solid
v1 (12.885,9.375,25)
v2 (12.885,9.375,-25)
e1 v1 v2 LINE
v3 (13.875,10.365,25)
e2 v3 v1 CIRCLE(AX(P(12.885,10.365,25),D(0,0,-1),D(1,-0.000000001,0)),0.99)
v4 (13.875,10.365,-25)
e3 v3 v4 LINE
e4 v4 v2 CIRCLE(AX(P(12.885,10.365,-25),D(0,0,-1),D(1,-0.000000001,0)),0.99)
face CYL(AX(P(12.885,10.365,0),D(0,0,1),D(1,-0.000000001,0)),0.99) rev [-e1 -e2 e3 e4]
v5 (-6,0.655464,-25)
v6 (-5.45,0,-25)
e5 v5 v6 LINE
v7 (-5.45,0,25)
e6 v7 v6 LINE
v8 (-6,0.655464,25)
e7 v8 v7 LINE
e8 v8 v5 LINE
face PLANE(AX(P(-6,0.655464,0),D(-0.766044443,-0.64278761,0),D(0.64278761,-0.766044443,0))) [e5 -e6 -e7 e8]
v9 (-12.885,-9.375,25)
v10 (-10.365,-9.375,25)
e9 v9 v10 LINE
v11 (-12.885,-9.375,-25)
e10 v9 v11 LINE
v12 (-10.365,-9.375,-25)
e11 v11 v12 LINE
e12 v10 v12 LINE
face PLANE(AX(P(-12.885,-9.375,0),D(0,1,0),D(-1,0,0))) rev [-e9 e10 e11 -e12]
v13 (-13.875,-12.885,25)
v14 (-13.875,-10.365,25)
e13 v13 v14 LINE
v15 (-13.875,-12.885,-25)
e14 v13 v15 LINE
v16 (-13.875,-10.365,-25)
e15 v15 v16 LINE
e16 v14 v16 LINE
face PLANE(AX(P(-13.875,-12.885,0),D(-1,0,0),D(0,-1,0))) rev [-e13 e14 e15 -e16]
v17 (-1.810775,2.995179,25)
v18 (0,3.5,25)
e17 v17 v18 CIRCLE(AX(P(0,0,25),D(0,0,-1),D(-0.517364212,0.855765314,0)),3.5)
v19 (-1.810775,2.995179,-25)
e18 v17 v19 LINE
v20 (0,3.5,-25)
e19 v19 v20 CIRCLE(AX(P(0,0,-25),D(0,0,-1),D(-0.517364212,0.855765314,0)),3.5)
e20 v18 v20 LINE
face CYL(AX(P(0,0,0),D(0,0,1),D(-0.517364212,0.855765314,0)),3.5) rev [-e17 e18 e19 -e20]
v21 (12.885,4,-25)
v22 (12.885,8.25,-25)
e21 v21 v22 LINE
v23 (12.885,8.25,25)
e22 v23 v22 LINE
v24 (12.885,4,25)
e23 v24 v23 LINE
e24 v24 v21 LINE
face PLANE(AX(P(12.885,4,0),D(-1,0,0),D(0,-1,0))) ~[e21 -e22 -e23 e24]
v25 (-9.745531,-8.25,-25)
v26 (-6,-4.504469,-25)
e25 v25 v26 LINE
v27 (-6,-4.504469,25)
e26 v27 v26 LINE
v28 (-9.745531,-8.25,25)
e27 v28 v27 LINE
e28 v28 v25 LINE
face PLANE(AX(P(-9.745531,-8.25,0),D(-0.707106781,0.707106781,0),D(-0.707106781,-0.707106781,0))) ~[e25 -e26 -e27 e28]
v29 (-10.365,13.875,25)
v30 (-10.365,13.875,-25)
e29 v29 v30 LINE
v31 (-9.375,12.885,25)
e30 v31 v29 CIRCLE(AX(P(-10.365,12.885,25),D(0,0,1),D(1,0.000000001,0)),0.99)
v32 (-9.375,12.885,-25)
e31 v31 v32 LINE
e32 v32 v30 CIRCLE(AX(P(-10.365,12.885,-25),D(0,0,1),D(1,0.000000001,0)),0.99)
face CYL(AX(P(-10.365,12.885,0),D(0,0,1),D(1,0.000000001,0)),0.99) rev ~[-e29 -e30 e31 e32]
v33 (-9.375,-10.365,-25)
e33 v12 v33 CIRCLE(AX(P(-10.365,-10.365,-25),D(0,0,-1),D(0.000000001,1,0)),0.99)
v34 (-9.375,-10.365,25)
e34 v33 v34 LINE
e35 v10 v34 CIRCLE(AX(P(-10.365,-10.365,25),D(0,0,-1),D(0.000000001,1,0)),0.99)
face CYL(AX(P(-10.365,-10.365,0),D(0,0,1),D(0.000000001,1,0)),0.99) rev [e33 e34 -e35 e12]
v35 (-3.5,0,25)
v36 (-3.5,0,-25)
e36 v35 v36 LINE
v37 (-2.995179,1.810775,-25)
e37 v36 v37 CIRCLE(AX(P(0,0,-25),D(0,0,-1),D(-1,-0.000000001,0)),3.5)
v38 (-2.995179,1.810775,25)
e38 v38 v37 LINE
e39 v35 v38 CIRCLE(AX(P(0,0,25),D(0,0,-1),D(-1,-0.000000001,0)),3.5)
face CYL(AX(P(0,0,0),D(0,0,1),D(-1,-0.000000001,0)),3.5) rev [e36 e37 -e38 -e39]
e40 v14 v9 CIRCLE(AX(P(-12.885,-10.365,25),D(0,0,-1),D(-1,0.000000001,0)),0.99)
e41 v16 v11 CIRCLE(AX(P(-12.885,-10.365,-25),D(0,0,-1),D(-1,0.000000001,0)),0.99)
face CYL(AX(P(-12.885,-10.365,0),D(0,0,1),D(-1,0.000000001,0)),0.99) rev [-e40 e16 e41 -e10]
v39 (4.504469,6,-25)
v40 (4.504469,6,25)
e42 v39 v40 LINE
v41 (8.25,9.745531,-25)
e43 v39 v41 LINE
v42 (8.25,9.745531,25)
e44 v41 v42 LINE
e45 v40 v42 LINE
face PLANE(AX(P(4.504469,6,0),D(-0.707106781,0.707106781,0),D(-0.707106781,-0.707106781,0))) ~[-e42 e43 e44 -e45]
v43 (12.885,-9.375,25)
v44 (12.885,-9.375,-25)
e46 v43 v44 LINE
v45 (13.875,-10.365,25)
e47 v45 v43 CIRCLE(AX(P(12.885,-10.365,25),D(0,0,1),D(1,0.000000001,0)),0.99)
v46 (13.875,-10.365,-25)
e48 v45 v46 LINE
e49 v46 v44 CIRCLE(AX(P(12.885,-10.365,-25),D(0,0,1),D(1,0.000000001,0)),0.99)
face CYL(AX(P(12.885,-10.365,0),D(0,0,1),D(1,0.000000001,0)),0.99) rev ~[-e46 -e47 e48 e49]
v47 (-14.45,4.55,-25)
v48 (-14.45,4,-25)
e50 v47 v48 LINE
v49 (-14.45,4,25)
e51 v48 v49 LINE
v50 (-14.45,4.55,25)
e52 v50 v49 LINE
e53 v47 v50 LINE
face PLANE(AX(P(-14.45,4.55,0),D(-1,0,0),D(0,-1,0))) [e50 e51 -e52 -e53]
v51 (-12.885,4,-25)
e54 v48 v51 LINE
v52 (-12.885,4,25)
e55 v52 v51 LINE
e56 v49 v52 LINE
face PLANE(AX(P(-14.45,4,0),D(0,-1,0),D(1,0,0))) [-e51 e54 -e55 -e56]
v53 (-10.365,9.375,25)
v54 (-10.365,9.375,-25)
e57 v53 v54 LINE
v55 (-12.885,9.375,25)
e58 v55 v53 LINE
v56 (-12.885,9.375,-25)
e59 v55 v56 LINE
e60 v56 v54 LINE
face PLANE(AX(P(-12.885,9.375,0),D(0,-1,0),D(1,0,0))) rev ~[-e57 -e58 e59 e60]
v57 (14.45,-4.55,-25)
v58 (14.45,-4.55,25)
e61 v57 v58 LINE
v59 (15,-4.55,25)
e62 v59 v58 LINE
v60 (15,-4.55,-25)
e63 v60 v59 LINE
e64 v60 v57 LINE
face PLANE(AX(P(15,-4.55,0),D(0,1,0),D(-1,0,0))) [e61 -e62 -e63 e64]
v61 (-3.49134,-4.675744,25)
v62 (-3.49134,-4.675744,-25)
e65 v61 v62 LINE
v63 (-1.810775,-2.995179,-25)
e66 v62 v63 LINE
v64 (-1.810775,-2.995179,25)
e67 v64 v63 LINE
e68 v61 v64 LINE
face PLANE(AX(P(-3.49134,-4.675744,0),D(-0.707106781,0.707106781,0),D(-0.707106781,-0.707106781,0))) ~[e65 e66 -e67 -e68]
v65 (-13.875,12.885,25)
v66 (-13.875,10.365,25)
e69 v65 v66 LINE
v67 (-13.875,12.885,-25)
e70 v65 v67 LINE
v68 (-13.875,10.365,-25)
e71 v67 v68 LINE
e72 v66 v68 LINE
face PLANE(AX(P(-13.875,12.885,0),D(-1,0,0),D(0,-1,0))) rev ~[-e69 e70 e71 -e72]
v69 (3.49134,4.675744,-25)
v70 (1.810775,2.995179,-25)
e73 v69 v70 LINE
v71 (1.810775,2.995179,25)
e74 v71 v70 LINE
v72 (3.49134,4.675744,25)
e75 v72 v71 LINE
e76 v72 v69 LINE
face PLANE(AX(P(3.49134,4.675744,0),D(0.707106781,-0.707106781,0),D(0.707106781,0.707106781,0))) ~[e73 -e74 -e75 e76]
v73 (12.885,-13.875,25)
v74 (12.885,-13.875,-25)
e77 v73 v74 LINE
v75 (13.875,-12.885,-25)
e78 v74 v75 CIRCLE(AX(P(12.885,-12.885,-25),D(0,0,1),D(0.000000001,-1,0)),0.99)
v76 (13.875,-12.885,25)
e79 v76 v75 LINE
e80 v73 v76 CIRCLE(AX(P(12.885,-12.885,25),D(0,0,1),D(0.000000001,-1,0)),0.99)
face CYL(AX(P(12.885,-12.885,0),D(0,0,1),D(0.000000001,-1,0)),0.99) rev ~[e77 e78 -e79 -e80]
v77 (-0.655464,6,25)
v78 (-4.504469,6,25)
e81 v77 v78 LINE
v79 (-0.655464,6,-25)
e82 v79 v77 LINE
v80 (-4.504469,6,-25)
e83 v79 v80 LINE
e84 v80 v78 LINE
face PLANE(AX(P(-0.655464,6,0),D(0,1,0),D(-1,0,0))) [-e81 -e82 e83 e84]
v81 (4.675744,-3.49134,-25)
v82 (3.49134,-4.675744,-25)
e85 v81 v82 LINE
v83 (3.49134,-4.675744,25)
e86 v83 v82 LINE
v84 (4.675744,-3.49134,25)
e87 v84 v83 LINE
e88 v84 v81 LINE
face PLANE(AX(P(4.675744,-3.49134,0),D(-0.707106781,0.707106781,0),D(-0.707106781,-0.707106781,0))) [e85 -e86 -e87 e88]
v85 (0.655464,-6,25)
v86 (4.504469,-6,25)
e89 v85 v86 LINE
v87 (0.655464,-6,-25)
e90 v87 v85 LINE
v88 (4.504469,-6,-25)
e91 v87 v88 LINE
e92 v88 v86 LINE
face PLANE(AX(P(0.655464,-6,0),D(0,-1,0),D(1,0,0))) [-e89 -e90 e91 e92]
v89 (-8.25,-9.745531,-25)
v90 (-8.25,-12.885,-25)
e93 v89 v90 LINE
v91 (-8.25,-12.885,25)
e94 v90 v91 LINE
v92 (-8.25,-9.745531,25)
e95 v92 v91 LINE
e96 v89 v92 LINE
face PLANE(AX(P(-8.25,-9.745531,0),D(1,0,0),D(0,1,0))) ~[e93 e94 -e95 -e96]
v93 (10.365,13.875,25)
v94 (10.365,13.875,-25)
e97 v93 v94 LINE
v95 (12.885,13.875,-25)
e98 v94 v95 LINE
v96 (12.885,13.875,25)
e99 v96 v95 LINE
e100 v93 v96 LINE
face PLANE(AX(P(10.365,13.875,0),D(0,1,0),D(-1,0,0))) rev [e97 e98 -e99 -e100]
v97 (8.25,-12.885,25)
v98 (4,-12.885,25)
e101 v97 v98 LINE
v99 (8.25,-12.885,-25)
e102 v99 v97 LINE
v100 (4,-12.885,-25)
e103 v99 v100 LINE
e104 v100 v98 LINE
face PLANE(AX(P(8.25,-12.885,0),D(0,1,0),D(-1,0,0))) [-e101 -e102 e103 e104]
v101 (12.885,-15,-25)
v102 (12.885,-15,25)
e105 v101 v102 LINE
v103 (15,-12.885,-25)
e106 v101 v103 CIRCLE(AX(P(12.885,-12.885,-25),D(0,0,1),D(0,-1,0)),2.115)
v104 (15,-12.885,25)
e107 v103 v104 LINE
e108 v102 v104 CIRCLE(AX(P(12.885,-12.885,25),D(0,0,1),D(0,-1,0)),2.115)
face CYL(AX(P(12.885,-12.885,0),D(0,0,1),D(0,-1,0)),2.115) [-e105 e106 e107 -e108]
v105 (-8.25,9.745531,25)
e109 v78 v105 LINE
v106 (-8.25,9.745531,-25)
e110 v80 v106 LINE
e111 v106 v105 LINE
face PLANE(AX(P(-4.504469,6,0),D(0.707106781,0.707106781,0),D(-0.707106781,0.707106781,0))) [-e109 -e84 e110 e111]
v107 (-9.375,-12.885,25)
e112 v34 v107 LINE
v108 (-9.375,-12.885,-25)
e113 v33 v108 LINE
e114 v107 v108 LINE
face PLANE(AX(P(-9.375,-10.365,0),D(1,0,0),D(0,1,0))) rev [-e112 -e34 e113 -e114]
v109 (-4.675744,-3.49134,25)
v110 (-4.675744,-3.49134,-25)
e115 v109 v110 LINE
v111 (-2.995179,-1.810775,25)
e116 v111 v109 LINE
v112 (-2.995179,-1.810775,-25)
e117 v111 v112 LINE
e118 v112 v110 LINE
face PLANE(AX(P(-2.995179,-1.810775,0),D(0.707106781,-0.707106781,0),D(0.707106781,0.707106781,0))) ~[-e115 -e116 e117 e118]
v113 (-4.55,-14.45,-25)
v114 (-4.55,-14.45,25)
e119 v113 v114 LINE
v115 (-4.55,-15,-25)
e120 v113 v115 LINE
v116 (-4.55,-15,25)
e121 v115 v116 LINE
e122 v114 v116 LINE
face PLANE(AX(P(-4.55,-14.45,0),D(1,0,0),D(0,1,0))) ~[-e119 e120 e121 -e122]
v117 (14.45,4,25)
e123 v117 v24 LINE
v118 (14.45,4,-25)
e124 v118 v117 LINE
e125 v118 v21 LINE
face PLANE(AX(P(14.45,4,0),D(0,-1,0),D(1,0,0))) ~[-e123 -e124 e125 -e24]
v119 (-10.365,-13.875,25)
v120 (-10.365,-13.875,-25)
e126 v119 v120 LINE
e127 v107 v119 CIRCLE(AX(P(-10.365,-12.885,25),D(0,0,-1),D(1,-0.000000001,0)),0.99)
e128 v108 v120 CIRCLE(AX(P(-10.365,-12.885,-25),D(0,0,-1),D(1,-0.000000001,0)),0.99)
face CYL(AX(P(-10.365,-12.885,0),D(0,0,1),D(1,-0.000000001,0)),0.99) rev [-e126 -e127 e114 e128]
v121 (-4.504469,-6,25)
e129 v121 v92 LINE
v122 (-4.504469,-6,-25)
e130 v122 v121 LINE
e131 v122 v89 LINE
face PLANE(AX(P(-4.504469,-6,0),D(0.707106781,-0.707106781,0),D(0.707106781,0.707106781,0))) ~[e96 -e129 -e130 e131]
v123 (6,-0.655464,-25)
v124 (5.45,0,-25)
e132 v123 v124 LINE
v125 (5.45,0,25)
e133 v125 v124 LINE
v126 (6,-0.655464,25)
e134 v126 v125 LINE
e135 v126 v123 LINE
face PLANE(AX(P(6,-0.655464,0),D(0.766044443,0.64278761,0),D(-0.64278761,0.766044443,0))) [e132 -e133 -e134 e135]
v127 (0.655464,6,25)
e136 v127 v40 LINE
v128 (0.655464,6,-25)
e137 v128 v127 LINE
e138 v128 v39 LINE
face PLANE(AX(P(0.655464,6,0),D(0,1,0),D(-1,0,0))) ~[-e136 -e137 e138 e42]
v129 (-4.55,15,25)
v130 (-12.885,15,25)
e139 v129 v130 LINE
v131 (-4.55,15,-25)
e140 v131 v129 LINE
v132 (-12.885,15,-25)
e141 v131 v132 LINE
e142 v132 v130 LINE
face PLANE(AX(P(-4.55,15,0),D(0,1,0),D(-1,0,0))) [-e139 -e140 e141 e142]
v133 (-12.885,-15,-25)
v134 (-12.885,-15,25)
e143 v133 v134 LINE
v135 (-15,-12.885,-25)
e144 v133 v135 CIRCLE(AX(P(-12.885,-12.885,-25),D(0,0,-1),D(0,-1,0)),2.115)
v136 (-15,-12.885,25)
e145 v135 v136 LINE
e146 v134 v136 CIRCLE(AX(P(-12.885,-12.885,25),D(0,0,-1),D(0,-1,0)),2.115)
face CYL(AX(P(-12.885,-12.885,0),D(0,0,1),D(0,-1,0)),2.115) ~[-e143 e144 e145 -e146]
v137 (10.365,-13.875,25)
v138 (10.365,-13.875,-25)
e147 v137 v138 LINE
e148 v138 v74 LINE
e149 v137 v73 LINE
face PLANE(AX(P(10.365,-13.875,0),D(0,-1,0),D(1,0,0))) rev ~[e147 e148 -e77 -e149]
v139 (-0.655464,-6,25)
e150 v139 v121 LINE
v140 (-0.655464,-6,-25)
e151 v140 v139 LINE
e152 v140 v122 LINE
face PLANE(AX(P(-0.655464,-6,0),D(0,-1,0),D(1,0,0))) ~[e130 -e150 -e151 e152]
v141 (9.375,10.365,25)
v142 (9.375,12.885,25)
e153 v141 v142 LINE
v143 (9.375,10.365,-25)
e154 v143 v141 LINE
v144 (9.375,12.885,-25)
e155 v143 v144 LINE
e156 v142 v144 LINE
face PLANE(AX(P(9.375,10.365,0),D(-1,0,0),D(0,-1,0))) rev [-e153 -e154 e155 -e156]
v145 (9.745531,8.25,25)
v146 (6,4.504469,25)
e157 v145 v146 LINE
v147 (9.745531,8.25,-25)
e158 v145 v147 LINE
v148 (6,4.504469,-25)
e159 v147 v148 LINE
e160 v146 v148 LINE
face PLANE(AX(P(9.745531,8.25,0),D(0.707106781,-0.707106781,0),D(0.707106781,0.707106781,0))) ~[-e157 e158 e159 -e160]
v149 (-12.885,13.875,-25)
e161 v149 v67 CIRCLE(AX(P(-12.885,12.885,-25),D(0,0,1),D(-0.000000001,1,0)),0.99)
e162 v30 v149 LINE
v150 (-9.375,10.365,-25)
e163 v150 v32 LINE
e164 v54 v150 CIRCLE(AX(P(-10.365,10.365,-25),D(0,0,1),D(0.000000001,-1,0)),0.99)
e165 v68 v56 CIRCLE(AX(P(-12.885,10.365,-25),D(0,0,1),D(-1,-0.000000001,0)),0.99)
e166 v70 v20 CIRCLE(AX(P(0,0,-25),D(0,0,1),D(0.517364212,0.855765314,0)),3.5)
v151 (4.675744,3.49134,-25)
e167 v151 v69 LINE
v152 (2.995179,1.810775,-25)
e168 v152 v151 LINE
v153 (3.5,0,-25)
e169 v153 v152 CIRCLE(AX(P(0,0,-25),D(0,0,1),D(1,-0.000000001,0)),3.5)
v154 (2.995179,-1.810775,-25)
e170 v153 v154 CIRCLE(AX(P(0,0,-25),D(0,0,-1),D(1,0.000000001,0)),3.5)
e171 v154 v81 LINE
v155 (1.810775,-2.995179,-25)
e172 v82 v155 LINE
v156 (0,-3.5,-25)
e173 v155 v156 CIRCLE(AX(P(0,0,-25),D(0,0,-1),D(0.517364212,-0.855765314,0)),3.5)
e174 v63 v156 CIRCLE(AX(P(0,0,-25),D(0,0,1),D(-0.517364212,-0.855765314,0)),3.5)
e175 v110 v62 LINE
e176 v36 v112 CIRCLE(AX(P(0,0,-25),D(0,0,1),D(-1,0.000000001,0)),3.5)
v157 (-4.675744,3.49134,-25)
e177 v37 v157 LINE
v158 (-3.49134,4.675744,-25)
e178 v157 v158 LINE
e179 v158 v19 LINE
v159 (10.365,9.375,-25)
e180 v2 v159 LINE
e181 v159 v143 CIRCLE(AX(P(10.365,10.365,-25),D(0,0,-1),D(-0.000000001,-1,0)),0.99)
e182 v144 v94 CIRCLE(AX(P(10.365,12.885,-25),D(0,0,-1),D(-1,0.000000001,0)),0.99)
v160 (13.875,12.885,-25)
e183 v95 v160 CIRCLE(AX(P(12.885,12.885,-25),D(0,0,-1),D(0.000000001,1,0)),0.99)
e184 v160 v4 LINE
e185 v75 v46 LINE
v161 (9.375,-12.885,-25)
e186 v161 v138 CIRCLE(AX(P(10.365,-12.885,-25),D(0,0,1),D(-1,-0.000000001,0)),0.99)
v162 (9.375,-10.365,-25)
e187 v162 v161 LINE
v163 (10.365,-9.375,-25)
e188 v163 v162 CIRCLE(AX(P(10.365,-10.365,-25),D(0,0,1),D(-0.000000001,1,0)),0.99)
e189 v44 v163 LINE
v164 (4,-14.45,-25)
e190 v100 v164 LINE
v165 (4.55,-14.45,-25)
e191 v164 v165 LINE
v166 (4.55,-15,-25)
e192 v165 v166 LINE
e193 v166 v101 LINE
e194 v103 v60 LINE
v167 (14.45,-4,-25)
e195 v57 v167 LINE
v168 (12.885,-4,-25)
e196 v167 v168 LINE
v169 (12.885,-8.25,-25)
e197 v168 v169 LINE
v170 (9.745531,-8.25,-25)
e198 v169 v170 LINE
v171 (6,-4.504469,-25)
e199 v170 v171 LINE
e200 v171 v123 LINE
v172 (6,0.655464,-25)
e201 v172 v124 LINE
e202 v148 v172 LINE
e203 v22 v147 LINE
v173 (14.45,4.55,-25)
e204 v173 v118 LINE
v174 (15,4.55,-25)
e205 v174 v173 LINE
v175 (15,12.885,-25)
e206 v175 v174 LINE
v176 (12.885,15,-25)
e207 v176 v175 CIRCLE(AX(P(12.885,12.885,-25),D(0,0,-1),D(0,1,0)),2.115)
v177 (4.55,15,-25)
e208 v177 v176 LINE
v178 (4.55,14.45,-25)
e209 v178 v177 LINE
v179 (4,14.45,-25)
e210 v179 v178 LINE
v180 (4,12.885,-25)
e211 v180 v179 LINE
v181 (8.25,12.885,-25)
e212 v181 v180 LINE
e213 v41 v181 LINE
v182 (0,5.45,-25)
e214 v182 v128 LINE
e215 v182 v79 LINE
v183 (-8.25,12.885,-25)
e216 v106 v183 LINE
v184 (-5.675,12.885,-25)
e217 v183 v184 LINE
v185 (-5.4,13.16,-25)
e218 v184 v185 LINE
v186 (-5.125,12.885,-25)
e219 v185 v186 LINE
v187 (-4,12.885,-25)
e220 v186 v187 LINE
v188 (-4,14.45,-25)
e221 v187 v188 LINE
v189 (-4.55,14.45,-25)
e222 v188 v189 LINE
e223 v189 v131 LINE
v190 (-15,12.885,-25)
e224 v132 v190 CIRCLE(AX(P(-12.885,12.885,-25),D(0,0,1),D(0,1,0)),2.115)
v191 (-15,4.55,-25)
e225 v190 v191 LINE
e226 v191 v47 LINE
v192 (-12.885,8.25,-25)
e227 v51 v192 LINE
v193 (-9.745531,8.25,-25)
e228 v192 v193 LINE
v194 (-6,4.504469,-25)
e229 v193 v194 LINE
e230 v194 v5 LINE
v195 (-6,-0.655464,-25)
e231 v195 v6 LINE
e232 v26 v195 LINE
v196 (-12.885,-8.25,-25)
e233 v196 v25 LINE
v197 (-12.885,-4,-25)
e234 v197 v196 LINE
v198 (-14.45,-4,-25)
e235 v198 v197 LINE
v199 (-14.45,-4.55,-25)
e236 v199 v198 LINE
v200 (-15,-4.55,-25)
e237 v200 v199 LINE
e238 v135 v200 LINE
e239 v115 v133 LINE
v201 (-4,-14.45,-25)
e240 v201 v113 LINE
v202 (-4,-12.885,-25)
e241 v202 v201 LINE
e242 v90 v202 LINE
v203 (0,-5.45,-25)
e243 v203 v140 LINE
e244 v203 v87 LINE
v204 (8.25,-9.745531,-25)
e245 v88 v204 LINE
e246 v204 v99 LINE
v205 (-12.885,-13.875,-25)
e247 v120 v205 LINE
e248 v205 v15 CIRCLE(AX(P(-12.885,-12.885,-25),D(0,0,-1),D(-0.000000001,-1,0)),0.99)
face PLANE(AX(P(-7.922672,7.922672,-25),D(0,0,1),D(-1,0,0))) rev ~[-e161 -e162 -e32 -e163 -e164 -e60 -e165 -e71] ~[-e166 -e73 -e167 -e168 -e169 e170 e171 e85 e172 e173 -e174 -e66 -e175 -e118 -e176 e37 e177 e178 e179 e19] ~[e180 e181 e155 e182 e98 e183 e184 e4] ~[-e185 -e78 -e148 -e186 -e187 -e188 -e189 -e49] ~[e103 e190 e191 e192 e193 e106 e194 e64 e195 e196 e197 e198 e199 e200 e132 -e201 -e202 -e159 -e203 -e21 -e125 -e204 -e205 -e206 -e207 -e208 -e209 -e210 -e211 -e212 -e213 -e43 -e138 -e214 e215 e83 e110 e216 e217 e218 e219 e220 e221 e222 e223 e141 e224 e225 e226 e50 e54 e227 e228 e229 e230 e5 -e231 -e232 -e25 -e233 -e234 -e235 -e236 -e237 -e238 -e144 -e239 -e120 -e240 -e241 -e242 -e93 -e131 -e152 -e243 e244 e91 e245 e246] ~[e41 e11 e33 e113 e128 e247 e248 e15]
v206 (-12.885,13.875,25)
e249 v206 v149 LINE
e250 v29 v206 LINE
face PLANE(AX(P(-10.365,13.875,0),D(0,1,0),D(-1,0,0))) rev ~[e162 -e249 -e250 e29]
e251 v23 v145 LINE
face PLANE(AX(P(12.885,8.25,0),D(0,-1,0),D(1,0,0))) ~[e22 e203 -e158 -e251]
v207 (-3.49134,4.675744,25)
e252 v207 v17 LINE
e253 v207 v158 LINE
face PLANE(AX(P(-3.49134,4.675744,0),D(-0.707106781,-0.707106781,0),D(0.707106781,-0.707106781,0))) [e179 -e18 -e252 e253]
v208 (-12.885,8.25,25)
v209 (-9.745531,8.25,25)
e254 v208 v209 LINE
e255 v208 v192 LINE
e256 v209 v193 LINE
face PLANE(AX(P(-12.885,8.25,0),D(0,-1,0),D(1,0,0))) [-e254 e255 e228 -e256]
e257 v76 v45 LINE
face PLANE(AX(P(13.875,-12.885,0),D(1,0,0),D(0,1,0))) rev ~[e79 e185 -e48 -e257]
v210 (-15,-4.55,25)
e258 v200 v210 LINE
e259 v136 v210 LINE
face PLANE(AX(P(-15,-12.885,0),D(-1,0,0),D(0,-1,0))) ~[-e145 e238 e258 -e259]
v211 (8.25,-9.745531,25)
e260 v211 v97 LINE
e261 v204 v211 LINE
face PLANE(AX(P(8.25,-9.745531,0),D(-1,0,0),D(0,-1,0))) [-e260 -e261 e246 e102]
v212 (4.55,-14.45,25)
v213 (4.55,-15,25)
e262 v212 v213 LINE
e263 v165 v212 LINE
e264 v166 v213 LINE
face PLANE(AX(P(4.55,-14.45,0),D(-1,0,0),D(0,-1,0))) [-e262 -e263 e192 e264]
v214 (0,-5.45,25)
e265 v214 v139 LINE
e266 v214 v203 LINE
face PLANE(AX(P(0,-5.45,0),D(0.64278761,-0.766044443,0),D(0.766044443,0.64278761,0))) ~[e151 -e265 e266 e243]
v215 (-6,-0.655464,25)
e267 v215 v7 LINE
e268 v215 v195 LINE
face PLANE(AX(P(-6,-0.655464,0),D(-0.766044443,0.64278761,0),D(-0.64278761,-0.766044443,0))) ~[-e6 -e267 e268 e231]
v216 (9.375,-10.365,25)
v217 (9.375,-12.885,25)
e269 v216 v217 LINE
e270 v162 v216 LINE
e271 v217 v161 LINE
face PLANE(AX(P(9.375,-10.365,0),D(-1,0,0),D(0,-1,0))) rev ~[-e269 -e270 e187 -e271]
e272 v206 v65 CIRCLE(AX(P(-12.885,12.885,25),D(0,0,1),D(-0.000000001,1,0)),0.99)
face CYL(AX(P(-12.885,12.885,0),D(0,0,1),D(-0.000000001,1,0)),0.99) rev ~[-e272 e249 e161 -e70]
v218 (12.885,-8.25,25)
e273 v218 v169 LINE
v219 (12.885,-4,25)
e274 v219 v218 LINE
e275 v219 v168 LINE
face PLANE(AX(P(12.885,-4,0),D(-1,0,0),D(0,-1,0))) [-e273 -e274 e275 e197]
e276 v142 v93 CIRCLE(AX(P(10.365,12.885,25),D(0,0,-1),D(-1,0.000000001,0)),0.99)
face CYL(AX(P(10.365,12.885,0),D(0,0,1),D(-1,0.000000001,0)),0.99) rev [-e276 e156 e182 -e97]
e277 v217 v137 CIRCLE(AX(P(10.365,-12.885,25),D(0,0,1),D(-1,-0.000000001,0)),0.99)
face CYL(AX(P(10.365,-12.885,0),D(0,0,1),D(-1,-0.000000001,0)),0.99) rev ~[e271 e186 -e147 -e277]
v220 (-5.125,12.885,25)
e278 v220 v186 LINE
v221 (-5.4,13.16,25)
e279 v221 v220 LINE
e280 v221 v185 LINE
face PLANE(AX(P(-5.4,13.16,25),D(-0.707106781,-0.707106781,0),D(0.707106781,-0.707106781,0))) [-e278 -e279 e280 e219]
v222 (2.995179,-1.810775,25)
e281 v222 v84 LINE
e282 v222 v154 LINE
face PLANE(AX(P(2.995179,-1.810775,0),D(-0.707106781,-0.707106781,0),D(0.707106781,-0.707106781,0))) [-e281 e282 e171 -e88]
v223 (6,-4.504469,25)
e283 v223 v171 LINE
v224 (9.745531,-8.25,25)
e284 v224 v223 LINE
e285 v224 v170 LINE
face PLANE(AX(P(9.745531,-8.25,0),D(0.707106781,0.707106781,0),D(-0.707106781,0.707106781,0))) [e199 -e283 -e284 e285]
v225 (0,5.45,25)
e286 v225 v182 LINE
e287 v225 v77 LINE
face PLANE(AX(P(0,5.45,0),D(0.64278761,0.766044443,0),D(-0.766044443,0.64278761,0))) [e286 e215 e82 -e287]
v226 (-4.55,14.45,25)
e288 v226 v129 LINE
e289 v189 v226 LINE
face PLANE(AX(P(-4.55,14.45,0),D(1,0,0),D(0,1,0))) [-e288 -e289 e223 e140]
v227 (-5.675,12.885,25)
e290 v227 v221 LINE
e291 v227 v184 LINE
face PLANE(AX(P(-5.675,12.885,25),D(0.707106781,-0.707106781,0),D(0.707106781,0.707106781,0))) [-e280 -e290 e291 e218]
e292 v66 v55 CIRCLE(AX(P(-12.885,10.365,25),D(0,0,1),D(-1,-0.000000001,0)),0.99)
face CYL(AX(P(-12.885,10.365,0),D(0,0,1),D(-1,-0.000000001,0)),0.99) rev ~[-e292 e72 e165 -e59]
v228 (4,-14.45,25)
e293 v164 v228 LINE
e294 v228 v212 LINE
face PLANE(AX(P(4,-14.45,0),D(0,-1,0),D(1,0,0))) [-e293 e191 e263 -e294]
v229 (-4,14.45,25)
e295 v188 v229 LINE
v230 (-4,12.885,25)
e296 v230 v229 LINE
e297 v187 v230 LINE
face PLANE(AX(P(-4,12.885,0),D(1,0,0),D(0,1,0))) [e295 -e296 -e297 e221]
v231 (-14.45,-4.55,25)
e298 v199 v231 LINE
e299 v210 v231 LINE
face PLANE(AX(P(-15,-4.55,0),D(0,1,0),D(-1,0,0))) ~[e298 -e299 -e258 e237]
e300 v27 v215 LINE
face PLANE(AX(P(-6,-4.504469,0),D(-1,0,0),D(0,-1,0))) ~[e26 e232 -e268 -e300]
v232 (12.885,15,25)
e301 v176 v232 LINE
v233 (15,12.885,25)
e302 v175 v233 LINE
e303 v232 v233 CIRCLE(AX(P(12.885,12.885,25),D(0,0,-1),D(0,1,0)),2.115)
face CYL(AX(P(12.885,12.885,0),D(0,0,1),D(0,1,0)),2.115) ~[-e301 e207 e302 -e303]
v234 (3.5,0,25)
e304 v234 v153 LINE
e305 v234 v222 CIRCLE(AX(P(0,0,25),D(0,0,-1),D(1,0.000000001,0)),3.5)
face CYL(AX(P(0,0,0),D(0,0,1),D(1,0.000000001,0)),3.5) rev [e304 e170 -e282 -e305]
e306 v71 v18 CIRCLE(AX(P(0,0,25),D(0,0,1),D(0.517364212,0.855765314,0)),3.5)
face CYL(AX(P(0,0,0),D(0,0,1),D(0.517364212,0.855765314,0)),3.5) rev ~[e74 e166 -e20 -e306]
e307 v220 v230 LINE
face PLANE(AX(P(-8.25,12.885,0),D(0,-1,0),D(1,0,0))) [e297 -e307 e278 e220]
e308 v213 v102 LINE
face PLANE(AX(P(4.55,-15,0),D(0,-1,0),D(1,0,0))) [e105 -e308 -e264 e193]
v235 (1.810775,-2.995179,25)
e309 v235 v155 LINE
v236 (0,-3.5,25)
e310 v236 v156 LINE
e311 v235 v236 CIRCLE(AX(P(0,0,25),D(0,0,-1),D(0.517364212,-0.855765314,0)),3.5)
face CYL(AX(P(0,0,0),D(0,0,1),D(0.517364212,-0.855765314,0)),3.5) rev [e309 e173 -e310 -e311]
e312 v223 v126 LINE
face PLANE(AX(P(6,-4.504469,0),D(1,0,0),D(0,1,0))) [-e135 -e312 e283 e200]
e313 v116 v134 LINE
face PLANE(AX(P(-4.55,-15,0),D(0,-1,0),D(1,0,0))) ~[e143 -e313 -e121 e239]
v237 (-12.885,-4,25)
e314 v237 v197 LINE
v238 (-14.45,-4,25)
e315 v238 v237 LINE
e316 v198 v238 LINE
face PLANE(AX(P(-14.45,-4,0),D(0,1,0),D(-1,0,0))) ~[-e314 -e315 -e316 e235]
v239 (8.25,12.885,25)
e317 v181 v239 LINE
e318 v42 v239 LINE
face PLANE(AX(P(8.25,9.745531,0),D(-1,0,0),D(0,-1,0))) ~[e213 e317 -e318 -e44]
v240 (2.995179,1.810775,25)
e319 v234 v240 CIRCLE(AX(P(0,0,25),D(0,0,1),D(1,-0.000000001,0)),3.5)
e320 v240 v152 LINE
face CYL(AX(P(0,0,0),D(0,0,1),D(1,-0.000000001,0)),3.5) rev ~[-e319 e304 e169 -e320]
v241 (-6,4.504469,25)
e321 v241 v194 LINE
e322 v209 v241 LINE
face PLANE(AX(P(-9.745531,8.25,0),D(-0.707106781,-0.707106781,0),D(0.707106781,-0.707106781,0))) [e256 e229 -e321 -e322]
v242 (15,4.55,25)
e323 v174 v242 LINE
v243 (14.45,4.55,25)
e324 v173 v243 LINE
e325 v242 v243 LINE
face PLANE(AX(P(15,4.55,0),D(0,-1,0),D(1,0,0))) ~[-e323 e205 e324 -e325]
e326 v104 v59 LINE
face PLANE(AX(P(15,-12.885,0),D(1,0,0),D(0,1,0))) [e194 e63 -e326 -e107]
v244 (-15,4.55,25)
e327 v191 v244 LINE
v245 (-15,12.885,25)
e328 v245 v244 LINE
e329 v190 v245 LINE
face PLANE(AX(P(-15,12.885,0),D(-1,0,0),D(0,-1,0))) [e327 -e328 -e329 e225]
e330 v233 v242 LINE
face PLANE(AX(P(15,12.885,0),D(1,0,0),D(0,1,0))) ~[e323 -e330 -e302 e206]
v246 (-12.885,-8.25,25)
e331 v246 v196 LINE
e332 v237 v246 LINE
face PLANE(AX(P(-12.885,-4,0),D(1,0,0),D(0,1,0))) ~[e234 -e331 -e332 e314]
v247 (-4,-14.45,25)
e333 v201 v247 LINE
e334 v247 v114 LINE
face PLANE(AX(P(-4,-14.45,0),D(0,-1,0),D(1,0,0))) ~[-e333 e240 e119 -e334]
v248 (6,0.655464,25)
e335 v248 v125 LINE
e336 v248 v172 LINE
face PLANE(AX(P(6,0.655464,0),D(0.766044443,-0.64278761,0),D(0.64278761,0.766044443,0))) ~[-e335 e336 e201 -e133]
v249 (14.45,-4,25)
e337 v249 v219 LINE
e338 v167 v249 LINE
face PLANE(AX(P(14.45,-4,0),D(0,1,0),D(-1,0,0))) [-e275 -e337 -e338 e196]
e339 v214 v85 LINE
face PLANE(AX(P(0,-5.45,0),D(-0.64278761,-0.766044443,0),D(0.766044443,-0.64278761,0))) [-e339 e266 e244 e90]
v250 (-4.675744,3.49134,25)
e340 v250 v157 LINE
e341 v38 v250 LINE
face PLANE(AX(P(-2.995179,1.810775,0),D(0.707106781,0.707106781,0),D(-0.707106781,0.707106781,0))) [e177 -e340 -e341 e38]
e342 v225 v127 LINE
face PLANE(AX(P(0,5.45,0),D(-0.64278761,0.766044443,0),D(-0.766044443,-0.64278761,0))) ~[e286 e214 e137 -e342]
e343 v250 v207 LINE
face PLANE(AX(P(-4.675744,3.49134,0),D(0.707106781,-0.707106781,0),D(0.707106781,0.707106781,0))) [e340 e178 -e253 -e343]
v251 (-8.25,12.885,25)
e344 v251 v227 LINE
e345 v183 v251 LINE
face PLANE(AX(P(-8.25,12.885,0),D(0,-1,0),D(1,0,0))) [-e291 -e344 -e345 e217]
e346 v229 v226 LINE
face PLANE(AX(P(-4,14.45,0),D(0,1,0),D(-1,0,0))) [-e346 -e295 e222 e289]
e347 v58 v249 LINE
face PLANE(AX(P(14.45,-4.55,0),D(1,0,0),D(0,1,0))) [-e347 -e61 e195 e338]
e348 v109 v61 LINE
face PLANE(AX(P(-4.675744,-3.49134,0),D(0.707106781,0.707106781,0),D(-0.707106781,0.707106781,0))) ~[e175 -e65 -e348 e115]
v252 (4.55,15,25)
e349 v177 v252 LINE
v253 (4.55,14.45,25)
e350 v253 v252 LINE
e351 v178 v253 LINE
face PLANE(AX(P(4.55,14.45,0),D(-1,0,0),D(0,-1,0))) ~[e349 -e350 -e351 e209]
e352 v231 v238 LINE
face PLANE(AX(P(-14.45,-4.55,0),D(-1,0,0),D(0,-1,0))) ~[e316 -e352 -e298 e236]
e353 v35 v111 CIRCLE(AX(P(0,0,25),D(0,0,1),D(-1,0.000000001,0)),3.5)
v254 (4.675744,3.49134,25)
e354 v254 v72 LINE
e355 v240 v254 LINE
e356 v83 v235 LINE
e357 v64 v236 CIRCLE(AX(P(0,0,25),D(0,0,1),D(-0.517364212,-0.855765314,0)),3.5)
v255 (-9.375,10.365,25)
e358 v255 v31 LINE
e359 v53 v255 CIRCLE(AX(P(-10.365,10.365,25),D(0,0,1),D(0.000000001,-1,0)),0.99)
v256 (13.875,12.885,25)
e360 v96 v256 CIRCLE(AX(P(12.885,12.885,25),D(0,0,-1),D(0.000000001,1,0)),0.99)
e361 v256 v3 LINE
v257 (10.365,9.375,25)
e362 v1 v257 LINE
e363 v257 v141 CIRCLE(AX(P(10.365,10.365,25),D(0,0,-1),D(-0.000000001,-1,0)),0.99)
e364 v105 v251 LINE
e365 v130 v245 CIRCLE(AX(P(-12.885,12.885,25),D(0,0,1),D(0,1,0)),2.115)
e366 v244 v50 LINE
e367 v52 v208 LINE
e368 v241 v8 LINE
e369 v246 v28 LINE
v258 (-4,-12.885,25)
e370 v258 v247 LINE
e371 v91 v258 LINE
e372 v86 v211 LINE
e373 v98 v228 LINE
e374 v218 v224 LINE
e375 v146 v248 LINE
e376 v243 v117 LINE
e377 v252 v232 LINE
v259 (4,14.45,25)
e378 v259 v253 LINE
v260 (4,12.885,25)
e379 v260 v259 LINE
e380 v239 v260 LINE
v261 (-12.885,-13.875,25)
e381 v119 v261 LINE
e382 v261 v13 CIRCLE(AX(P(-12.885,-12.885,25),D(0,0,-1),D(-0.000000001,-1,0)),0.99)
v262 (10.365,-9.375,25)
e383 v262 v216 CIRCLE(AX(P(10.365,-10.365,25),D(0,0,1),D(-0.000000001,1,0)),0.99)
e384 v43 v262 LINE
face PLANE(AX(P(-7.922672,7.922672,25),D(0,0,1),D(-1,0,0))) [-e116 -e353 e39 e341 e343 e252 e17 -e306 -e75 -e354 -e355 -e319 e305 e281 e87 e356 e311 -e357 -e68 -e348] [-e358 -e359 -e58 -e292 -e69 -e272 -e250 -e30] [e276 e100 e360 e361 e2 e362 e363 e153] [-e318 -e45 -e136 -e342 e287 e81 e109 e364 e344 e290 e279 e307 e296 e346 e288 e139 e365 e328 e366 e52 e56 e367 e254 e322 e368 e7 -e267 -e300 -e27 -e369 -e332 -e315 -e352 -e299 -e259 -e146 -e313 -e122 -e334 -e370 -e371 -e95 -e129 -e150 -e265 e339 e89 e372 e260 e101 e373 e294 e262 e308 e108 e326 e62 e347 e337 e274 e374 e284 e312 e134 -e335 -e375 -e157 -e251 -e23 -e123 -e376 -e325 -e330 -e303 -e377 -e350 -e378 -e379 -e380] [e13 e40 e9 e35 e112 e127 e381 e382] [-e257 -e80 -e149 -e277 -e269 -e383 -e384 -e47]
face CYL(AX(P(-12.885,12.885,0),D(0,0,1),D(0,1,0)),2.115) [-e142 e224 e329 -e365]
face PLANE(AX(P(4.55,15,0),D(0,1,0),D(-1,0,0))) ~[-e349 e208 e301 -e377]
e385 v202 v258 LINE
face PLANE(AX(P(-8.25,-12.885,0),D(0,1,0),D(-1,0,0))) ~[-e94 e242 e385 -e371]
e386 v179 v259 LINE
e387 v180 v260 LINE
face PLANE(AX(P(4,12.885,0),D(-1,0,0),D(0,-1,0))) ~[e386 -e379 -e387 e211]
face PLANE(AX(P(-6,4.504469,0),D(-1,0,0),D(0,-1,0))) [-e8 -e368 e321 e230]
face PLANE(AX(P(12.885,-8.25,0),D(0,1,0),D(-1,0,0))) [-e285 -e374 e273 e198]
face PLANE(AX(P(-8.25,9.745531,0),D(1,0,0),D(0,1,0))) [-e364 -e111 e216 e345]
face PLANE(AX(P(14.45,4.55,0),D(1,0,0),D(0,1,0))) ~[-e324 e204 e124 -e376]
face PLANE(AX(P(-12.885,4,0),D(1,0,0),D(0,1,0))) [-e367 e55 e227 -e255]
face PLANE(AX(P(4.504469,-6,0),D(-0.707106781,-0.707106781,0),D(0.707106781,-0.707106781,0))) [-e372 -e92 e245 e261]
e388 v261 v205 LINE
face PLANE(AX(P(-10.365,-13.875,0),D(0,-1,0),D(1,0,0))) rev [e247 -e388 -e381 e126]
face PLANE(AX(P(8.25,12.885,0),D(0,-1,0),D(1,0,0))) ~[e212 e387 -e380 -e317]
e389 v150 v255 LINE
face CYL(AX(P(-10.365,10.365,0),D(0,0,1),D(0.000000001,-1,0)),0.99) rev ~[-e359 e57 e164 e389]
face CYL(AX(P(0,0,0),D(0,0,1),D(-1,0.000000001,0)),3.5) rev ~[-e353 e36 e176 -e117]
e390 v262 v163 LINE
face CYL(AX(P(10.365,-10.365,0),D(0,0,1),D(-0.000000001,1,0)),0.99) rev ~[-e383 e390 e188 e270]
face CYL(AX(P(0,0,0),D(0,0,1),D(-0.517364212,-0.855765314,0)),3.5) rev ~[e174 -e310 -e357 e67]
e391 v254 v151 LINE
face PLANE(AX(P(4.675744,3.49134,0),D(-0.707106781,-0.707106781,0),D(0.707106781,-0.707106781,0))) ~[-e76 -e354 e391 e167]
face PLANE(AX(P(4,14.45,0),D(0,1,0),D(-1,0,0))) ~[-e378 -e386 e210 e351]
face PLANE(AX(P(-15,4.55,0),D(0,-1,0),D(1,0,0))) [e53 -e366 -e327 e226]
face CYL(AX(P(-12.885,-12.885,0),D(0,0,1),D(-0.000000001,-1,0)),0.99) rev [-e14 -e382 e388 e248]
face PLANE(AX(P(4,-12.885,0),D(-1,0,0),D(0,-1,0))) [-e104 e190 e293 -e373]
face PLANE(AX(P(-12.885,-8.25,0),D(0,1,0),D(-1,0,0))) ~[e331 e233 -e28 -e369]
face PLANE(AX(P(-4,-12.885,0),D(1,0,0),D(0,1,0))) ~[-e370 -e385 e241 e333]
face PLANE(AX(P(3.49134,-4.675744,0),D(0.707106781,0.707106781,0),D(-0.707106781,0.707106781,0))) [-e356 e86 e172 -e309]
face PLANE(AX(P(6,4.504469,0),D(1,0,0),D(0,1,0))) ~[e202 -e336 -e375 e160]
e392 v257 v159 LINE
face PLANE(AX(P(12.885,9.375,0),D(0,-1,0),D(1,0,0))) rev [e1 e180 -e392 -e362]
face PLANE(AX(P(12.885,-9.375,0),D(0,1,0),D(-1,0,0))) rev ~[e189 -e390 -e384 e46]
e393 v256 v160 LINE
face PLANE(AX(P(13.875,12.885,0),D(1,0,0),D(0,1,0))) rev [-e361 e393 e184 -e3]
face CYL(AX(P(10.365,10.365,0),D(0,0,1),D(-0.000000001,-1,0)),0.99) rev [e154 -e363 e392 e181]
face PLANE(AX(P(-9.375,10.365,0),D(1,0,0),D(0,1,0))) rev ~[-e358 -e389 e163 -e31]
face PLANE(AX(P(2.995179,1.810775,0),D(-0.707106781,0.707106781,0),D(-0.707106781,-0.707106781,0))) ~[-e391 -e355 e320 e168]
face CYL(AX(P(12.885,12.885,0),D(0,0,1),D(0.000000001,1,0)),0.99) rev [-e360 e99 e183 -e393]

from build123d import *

# Parameters (mm, degrees)
BOSS_EXTRUDE1_DEPTH     = 25
CUT_EXTRUDE1_DEPTH      = 1
CUT_EXTRUDE1_DEPTH_BACK = 51


with BuildPart() as part:
    # Sketch4 → Boss-Extrude1 (new body, symmetric)
    with BuildSketch(Plane.XY):
        with BuildLine():
            Line((0, -5.45), (0.655464476, -6))
            Line((0.655464476, -6), (4.504469158, -6))
            Line((4.504469158, -6), (8.25, -9.745530842))
            Line((8.25, -9.745530842), (8.25, -12.885))
            Line((8.25, -12.885), (4, -12.885))
            Line((4, -12.885), (4, -14.45))
            Line((4, -14.45), (4.55, -14.45))
            Line((4.55, -14.45), (4.55, -15))
            Line((4.55, -15), (12.885, -15))
            ThreePointArc((12.885, -15), (14.380530842, -14.380530842), (15, -12.885))
            Line((15, -12.885), (15, -4.55))
            Line((15, -4.55), (14.45, -4.55))
            Line((14.45, -4.55), (14.45, -4))
            Line((14.45, -4), (12.885, -4))
            Line((12.885, -4), (12.885, -8.25))
            Line((12.885, -8.25), (9.745530842, -8.25))
            Line((9.745530842, -8.25), (6, -4.504469158))
            Line((6, -4.504469158), (6, -0.655464476))
            Line((6, -0.655464476), (5.45, 0))
            Line((5.45, 0), (3.5, 0))
            ThreePointArc((3.5, 0), (3.371433308, -0.939913534), (2.995178599, -1.81077474))
            Line((2.995178599, -1.81077474), (4.675743591, -3.491339732))
            Line((4.675743591, -3.491339732), (3.491339732, -4.675743591))
            Line((3.491339732, -4.675743591), (1.81077474, -2.995178599))
            ThreePointArc((1.81077474, -2.995178599), (0.939913534, -3.371433308), (0, -3.5))
            Line((0, -3.5), (0, -5.45))
        make_face()
        with BuildLine():
            Line((9.375, -10.365), (9.375, -12.885))
            ThreePointArc((9.375, -12.885), (9.664964287, -13.585035713), (10.365, -13.875))
            Line((10.365, -13.875), (12.885, -13.875))
            ThreePointArc((12.885, -13.875), (13.585035713, -13.585035713), (13.875, -12.885))
            Line((13.875, -12.885), (13.875, -10.365))
            ThreePointArc((13.875, -10.365), (13.585035713, -9.664964287), (12.885, -9.375))
            Line((12.885, -9.375), (10.365, -9.375))
            ThreePointArc((10.365, -9.375), (9.664964287, -9.664964287), (9.375, -10.365))
        make_face(mode=Mode.SUBTRACT)
    extrude(amount=BOSS_EXTRUDE1_DEPTH, both=True)

    # Mirror1: part across plane


with BuildPart() as part_1:
    add(part.part)
    add(part.part.mirror(Plane(origin=(0, 0, 0), x_dir=(0, 0, 1), z_dir=(1, 0, 0))))

    # Mirror2: part across plane


with BuildPart() as part_2:
    add(part_1.part)
    add(part_1.part.mirror(Plane.ZX))

    # Sketch5 → Cut-Extrude1 (cut, two sides)
    with BuildSketch(Plane.XY.offset(25)) as cut_extrude1_sk:
        Polygon((-5.675, 12.885), (-5.4, 13.16), (-5.125, 12.885), align=None)
    extrude(amount=CUT_EXTRUDE1_DEPTH, mode=Mode.SUBTRACT)
    extrude(cut_extrude1_sk.sketch, amount=-CUT_EXTRUDE1_DEPTH_BACK, mode=Mode.SUBTRACT)


solid = part_2.part
